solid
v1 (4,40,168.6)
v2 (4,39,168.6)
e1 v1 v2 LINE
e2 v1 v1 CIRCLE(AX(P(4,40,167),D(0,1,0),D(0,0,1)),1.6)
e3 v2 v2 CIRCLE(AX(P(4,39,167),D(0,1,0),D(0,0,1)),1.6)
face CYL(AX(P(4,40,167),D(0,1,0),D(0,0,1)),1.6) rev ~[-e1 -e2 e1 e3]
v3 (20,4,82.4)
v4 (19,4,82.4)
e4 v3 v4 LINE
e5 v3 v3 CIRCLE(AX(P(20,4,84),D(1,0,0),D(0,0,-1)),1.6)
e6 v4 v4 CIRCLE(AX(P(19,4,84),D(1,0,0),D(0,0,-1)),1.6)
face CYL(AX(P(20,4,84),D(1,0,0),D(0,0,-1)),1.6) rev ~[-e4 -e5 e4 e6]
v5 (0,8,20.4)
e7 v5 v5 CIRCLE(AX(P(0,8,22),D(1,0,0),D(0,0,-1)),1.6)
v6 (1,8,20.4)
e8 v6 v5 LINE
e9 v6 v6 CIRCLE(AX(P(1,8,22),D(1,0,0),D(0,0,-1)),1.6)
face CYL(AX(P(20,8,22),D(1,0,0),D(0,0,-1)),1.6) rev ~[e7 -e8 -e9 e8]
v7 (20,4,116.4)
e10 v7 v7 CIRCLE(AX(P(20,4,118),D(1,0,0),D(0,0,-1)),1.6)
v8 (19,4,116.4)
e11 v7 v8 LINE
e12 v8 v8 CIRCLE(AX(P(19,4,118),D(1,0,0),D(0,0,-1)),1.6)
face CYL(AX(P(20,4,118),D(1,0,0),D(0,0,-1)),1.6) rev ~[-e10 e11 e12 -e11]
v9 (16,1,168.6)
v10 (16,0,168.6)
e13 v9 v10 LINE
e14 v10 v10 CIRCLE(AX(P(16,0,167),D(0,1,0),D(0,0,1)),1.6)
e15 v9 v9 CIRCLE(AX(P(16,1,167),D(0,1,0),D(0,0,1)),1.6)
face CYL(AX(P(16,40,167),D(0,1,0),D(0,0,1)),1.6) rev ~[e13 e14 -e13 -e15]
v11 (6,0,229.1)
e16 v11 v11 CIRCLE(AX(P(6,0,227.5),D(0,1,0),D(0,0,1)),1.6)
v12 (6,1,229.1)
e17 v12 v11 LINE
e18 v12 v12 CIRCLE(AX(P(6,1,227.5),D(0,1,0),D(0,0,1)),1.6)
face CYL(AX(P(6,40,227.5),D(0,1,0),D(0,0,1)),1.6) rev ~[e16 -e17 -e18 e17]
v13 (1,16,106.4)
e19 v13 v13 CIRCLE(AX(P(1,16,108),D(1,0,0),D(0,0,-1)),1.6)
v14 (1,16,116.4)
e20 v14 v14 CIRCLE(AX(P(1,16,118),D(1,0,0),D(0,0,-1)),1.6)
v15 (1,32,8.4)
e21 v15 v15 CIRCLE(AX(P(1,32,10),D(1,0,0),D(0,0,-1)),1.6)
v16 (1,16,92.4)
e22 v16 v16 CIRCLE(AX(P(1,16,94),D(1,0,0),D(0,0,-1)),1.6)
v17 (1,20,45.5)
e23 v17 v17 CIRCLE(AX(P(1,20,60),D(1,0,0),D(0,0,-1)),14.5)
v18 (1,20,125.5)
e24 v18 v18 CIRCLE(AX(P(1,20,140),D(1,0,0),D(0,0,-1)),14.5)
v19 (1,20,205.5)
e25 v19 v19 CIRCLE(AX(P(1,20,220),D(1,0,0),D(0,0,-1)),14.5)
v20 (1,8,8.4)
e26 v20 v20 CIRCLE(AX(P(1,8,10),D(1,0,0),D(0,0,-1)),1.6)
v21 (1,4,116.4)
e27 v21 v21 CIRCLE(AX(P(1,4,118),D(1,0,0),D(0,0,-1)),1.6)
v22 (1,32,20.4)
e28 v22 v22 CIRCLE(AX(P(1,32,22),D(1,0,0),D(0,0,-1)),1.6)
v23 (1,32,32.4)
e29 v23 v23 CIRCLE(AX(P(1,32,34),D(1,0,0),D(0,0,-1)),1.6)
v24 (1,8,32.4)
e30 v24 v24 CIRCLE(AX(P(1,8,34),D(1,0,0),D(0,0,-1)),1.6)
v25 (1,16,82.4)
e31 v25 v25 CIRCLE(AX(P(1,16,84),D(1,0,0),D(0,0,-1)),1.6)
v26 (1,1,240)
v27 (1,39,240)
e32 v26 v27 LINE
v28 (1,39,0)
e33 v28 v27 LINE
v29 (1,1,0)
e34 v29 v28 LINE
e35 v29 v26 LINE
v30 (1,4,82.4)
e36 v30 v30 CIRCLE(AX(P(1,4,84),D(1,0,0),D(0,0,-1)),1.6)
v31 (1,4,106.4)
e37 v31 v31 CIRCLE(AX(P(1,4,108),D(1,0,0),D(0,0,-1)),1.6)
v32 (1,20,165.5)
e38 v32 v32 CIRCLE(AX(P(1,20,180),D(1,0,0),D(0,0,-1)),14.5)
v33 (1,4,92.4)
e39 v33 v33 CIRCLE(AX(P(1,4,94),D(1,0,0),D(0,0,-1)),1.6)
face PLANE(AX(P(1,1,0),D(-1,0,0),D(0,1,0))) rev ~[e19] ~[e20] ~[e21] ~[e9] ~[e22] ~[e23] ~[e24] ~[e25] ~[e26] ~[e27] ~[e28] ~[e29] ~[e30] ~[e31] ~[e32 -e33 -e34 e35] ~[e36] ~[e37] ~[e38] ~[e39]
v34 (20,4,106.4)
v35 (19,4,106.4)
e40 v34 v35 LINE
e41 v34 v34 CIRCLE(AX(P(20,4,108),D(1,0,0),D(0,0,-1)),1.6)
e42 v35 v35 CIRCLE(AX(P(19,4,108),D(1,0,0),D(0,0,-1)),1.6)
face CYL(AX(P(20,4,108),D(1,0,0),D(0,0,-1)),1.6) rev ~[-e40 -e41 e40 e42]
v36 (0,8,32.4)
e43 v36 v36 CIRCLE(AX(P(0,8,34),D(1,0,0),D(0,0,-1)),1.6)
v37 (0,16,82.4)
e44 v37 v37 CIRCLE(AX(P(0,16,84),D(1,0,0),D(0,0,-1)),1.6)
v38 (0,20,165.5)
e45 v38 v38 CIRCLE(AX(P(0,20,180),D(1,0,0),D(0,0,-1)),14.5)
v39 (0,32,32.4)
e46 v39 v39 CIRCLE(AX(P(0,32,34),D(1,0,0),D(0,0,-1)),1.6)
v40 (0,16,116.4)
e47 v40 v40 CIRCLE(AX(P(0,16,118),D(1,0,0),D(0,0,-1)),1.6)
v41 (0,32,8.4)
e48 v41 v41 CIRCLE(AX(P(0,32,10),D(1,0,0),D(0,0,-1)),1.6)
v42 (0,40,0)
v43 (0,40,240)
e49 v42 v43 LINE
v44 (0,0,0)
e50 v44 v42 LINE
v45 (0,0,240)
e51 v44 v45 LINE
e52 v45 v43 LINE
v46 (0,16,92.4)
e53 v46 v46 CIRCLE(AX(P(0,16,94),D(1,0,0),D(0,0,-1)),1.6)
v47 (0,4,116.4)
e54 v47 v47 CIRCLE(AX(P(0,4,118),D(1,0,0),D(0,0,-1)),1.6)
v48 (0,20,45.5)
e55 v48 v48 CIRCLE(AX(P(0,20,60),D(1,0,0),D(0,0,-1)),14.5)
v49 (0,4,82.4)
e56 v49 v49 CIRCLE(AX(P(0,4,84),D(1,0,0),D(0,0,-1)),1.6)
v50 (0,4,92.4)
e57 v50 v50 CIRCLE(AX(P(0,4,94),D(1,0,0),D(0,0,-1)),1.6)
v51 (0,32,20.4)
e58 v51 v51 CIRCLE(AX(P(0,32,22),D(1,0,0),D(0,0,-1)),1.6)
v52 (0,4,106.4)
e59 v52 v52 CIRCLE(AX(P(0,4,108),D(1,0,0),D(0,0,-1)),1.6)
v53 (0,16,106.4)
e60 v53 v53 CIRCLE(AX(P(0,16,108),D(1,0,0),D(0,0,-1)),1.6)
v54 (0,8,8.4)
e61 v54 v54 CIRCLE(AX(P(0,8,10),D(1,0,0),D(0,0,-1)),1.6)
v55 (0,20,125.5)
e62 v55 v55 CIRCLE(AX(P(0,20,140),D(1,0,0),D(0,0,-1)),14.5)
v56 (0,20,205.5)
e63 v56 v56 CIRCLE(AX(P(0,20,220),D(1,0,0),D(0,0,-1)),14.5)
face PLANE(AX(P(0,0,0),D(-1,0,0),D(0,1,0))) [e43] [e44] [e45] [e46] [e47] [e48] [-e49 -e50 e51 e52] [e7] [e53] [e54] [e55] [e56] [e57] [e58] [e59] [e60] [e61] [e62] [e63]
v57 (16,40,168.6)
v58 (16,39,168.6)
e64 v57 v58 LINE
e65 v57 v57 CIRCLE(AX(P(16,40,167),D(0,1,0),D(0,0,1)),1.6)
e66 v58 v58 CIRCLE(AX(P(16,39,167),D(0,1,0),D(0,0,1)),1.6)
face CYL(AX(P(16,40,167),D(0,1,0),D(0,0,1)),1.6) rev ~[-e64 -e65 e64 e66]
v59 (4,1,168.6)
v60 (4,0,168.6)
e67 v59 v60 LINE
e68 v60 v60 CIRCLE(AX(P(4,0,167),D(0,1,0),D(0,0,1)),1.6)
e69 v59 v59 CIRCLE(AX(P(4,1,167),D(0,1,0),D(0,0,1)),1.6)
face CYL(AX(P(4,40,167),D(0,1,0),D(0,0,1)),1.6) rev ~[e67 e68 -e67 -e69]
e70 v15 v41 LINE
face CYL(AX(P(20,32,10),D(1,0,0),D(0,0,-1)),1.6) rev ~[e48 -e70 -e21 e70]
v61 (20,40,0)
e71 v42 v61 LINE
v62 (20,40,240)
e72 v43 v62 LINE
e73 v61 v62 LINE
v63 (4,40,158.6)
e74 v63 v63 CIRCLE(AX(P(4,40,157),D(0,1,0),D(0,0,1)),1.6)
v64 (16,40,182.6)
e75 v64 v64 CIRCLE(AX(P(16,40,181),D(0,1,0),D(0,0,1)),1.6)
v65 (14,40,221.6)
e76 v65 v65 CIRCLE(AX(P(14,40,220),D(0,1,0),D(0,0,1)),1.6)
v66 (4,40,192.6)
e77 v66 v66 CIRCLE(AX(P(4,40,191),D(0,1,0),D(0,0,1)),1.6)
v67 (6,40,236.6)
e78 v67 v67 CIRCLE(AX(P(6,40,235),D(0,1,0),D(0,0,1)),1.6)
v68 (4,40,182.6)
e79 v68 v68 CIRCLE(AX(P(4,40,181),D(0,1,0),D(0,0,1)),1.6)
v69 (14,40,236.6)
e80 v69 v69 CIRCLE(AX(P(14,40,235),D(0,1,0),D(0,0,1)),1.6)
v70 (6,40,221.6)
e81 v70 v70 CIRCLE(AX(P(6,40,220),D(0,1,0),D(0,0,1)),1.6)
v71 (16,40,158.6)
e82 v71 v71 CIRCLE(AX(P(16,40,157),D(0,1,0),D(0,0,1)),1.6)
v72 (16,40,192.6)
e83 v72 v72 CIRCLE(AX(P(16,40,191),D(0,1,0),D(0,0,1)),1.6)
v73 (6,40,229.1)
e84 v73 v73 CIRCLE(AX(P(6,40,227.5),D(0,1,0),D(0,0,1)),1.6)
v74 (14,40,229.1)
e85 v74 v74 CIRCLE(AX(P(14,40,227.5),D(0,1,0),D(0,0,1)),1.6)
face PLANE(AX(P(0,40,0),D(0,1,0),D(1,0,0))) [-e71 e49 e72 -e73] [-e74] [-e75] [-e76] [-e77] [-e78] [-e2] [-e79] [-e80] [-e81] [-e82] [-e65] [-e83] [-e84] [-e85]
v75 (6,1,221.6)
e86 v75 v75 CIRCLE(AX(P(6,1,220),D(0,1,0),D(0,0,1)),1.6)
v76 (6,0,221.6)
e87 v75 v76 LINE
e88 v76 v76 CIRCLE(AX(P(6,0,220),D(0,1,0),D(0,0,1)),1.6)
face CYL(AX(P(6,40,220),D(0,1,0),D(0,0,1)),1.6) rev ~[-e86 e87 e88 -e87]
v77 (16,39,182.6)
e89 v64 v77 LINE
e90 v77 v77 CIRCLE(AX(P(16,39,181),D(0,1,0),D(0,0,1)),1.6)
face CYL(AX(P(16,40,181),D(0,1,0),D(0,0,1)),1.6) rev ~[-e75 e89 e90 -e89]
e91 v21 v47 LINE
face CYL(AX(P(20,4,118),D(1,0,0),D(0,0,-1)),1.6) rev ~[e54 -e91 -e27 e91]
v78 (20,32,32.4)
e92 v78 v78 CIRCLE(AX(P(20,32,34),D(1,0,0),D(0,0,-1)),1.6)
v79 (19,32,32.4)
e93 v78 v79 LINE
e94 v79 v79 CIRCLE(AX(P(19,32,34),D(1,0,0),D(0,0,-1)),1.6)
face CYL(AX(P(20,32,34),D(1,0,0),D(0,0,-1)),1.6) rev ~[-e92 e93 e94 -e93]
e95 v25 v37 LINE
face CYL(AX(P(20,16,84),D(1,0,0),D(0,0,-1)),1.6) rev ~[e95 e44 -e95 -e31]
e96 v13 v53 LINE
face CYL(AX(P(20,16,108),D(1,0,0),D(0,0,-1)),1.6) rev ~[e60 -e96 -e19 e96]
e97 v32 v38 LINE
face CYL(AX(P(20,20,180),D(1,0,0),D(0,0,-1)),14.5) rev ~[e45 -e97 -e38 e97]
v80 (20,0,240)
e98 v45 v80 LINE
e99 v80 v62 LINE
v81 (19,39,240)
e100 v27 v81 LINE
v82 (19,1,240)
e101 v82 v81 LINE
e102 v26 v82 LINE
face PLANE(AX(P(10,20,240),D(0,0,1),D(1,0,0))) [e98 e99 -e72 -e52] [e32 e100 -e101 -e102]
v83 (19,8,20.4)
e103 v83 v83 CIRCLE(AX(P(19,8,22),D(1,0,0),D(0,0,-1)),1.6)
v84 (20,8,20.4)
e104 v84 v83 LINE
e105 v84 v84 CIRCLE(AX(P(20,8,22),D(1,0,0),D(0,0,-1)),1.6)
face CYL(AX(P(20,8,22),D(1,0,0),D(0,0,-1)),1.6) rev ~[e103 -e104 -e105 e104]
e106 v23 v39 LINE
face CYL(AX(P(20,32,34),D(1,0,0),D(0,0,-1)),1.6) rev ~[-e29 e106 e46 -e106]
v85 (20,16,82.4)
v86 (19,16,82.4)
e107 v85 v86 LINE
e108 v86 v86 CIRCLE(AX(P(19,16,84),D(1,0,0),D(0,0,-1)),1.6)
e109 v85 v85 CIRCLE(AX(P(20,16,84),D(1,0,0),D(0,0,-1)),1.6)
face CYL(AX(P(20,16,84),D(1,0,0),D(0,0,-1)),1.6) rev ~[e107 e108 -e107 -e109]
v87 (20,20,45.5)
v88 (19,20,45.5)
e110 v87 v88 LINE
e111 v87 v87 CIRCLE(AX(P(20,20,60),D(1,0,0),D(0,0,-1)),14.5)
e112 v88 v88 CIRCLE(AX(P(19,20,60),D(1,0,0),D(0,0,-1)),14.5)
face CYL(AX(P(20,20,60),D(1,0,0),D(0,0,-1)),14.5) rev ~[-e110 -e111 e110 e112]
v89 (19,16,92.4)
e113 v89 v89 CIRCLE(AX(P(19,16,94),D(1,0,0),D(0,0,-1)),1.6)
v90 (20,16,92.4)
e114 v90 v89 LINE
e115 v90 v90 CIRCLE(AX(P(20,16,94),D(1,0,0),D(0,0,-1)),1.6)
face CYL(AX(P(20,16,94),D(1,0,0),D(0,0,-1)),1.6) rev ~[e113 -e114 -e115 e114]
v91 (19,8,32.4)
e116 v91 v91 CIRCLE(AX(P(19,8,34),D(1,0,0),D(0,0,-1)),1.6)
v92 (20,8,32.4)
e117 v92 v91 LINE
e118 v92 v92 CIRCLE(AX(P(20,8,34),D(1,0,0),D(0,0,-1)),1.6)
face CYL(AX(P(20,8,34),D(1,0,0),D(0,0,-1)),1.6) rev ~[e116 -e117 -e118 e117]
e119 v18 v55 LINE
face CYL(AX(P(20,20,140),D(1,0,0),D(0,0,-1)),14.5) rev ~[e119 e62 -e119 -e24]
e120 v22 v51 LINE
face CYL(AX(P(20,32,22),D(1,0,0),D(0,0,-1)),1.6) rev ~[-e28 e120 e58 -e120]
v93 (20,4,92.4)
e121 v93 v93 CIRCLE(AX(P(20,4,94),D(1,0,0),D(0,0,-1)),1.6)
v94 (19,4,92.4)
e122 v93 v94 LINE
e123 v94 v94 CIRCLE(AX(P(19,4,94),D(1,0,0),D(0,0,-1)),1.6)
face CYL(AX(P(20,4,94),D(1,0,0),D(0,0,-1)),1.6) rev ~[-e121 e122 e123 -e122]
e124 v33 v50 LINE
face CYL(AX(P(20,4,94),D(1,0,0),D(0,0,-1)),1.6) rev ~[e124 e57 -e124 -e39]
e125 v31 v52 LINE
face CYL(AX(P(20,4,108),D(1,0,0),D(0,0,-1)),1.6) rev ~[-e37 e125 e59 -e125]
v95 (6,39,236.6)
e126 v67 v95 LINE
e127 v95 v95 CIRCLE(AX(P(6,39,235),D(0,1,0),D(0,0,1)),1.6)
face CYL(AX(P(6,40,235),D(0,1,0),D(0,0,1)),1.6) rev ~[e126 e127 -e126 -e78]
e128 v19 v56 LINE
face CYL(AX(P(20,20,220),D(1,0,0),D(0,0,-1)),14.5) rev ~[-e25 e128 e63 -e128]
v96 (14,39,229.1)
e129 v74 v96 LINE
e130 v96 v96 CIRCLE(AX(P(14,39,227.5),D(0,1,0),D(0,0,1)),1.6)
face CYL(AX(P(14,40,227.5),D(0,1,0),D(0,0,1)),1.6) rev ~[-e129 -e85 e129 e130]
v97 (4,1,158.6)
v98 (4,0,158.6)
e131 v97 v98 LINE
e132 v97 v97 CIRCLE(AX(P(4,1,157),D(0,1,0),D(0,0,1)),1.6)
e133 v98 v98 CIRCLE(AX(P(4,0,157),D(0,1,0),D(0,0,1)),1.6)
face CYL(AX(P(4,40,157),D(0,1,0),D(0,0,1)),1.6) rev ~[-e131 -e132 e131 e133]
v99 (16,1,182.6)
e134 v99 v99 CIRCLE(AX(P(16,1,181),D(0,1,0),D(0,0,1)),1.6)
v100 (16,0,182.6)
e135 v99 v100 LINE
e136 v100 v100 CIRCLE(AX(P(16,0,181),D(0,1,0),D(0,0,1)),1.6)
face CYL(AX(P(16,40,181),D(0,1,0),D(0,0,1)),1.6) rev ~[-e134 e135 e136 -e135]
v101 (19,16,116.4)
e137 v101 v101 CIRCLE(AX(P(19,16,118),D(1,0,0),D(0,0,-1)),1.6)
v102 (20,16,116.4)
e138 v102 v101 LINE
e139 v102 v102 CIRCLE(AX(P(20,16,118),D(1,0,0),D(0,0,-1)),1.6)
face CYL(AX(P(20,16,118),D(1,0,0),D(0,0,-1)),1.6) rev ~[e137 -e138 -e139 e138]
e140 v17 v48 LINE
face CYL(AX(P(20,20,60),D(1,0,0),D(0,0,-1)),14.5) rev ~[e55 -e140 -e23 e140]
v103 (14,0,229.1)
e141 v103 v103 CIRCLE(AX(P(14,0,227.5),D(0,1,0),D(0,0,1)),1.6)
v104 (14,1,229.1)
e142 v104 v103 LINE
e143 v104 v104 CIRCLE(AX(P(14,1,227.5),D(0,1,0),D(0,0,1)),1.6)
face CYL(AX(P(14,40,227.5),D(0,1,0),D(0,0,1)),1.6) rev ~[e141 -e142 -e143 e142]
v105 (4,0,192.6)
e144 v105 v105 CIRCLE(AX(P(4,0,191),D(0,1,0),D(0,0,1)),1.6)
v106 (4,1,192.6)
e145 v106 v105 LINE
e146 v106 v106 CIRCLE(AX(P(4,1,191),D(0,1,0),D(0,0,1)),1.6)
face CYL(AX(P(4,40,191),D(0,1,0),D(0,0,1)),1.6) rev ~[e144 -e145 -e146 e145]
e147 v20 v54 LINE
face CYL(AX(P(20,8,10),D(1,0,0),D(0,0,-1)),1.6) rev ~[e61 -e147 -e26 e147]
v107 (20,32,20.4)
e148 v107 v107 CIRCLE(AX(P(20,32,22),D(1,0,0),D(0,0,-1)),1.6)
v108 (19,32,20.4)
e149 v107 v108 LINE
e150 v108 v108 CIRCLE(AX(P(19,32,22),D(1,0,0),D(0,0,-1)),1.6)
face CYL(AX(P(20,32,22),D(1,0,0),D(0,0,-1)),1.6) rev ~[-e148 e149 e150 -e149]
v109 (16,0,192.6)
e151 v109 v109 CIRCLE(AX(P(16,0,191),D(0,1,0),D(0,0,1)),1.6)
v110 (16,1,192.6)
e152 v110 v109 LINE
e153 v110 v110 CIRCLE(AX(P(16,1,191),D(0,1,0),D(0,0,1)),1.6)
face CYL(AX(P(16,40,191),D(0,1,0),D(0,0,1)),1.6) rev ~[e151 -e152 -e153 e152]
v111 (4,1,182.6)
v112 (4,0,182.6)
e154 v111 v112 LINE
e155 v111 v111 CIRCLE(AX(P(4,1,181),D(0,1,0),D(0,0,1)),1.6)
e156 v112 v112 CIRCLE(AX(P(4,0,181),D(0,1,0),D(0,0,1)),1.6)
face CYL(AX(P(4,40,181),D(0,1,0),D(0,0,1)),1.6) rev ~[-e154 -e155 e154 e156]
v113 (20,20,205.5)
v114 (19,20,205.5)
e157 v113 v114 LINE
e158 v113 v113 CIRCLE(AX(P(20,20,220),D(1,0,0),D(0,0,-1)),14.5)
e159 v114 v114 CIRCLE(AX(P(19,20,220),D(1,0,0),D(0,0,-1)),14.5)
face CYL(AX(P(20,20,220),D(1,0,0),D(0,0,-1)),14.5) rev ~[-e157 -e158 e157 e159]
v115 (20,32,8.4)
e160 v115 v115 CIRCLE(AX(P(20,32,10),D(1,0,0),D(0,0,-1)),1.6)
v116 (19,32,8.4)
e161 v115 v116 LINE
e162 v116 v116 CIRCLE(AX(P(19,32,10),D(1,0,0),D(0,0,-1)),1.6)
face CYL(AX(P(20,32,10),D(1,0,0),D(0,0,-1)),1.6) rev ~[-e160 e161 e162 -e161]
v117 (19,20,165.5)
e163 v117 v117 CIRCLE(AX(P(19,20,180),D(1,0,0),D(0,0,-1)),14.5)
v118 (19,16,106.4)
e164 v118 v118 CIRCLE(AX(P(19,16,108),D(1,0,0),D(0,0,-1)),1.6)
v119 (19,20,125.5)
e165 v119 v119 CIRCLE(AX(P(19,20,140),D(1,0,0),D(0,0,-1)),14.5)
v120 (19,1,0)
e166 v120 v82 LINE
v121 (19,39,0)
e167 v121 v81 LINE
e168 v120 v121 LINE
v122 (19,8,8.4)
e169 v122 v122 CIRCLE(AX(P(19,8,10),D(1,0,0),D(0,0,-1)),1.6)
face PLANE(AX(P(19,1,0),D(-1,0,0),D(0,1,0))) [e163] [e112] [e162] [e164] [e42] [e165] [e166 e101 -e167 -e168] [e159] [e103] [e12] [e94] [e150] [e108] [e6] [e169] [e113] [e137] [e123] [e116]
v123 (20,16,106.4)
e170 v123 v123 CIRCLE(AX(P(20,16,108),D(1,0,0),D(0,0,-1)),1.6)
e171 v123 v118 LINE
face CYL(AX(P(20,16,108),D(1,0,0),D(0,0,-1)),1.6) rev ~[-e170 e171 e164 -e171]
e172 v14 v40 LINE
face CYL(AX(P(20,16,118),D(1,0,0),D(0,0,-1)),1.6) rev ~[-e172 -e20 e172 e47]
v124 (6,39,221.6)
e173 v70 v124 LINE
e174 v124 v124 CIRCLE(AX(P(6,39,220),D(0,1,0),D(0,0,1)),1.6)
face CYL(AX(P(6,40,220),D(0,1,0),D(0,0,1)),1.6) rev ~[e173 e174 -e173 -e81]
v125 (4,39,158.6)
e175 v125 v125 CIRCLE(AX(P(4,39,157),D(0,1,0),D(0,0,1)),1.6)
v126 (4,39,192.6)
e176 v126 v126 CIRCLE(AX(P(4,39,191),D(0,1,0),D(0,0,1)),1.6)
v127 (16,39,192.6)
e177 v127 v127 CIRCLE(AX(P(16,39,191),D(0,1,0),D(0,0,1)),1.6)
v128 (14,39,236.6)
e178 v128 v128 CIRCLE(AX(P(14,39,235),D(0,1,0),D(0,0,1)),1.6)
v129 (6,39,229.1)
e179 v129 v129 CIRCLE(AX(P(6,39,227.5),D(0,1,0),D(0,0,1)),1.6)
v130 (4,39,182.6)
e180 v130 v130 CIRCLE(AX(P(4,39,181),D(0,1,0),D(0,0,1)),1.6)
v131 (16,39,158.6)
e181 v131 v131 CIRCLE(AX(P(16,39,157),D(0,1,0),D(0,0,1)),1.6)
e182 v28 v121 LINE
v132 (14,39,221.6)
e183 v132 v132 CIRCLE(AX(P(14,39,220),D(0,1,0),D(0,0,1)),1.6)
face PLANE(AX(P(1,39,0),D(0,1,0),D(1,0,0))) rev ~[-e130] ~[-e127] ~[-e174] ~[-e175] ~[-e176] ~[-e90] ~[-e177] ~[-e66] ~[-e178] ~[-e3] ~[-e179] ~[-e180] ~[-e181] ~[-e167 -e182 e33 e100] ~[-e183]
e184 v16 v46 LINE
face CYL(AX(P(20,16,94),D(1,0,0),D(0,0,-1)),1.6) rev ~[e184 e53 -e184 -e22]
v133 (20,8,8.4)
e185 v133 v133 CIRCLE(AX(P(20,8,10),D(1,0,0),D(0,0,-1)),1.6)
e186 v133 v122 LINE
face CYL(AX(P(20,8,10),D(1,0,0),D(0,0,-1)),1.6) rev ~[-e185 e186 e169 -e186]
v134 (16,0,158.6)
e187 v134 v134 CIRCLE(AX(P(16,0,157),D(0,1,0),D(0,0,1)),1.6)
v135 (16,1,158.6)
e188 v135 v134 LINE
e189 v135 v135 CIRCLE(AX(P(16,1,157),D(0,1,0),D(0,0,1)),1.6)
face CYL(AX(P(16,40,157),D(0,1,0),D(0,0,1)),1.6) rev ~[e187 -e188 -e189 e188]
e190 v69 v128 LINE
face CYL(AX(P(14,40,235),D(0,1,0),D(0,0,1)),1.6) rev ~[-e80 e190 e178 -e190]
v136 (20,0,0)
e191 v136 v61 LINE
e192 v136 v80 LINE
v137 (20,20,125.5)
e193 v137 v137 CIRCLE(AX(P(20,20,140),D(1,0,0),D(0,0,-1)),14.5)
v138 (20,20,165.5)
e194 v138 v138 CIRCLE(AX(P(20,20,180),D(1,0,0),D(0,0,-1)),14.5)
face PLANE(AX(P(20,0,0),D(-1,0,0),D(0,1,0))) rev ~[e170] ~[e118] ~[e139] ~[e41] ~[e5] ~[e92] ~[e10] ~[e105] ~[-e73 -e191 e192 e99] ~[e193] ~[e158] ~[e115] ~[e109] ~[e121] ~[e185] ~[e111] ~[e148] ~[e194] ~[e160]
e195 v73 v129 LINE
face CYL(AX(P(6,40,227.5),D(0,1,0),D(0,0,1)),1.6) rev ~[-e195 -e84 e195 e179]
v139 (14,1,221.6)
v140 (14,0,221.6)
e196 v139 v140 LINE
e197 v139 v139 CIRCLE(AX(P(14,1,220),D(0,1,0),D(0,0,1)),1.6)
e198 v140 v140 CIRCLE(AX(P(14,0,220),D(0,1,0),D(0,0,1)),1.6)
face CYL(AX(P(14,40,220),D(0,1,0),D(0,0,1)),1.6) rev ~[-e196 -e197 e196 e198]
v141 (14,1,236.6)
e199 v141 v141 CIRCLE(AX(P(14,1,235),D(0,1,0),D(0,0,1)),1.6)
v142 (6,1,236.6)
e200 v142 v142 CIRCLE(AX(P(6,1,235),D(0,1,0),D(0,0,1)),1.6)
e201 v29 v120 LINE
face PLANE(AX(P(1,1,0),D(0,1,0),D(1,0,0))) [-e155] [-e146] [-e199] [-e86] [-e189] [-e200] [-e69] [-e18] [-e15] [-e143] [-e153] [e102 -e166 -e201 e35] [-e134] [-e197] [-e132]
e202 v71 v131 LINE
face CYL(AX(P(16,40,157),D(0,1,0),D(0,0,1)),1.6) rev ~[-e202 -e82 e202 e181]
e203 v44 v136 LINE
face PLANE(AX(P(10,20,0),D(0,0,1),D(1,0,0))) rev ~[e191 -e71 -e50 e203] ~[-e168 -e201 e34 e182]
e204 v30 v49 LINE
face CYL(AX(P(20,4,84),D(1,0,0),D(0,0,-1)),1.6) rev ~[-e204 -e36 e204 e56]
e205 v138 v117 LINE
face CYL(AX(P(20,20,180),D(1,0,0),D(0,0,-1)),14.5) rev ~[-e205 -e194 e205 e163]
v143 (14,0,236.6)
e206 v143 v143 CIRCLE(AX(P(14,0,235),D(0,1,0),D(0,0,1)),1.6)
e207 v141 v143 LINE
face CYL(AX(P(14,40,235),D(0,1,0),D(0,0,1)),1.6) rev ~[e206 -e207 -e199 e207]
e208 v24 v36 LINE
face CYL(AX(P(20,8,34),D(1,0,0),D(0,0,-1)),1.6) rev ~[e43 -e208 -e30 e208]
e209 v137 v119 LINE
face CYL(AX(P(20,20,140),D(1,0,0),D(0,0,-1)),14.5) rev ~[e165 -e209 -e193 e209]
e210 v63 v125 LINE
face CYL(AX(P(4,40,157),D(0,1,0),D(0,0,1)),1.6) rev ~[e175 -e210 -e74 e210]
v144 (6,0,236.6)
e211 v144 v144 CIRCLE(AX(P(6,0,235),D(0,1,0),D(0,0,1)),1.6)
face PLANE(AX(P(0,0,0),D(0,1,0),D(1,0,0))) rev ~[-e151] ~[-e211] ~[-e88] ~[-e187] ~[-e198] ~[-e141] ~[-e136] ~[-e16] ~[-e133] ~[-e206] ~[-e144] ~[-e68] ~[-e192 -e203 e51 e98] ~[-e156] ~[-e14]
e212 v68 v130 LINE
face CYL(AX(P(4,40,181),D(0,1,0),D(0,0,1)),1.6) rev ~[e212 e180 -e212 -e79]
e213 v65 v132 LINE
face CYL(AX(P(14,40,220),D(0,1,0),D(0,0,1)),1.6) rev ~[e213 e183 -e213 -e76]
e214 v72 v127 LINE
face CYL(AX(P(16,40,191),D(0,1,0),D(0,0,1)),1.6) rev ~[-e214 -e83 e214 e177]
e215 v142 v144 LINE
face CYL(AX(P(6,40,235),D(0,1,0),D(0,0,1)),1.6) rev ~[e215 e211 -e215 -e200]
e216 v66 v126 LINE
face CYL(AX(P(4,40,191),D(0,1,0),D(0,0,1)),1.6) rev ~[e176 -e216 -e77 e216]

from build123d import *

# Parameters (mm, degrees)
SKETCH_1_W          = 20
SKETCH_1_H          = 40
SKETCH_1_W_2        = 18
SKETCH_1_H_2        = 38
EXTRUDE_1_DEPTH     = 240
SKETCH_2_R          = 1.6
CUT_EXTRUDE_1_DEPTH = 245.131112315
SKETCH_3_R          = 1.6
SKETCH_3_R_2        = 1.599999999
CUT_EXTRUDE_2_DEPTH = 245.131112315
SKETCH_4_R          = 14.5
CUT_EXTRUDE_3_DEPTH = 245.131112315


with BuildPart() as part:
    # 草图1 → 凸台-拉伸1 (new body)
    with BuildSketch(Plane.XY):
        with Locations((10, 20)):
            Rectangle(SKETCH_1_W, SKETCH_1_H)
        with Locations((10, 20)):
            Rectangle(SKETCH_1_W_2, SKETCH_1_H_2, mode=Mode.SUBTRACT)
    extrude(amount=EXTRUDE_1_DEPTH)

    # 草图2 → 切除-拉伸1 (cut, through all)
    with BuildSketch(Plane(origin=(20, 0, 0), x_dir=(0, 0, -1), z_dir=(1, 0, 0))):
        with Locations((-10, 8)):
            Circle(SKETCH_2_R)
        with Locations((-34, 8)):
            Circle(SKETCH_2_R)
        with Locations((-84, 4.000000001)):
            Circle(SKETCH_2_R)
        with Locations((-94, 4.000000001)):
            Circle(SKETCH_2_R)
        with Locations((-108, 16.000000001)):
            Circle(SKETCH_2_R)
        with Locations((-118, 16.000000001)):
            Circle(SKETCH_2_R)
        with Locations((-108, 4.000000001)):
            Circle(SKETCH_2_R)
        with Locations((-118, 4.000000001)):
            Circle(SKETCH_2_R)
        with Locations((-84, 16.000000001)):
            Circle(SKETCH_2_R)
        with Locations((-94, 16.000000001)):
            Circle(SKETCH_2_R)
        with Locations((-10, 32)):
            Circle(SKETCH_2_R)
        with Locations((-34, 32)):
            Circle(SKETCH_2_R)
        with Locations((-22, 32)):
            Circle(SKETCH_2_R)
        with Locations((-22, 8)):
            Circle(SKETCH_2_R)
    extrude(amount=-CUT_EXTRUDE_1_DEPTH, mode=Mode.SUBTRACT)

    # 草图3 → 切除-拉伸2 (cut, through all)
    with BuildSketch(Plane(origin=(0, 40, 0), x_dir=(1, 0, 0), z_dir=(0, 1, 0))):
        with Locations(Location((6, -227.5, 0), (0, 0, 270))):
            Circle(SKETCH_3_R)
        with Locations(Location((14, -227.5, 0), (0, 0, 270))):
            Circle(SKETCH_3_R)
        with Locations(Location((16.000000001, -191.000000001, 0), (0, 0, 270))):
            Circle(SKETCH_3_R_2)
        with Locations(Location((16.000000001, -181.000000001, 0), (0, 0, 270))):
            Circle(SKETCH_3_R_2)
        with Locations(Location((4.000000001, -167.000000001, 0), (0, 0, 270))):
            Circle(SKETCH_3_R_2)
        with Locations(Location((4.000000001, -157.000000001, 0), (0, 0, 270))):
            Circle(SKETCH_3_R_2)
        with Locations(Location((16.000000001, -167.000000001, 0), (0, 0, 270))):
            Circle(SKETCH_3_R_2)
        with Locations(Location((16.000000001, -157.000000001, 0), (0, 0, 270))):
            Circle(SKETCH_3_R_2)
        with Locations(Location((4.000000001, -191.000000001, 0), (0, 0, 270))):
            Circle(SKETCH_3_R_2)
        with Locations(Location((4.000000001, -181.000000001, 0), (0, 0, 270))):
            Circle(SKETCH_3_R_2)
        with Locations(Location((6, -220, 0), (0, 0, 270))):
            Circle(SKETCH_3_R)
        with Locations(Location((14, -220, 0), (0, 0, 270))):
            Circle(SKETCH_3_R)
        with Locations(Location((6, -235, 0), (0, 0, 270))):
            Circle(SKETCH_3_R)
        with Locations(Location((14, -235, 0), (0, 0, 270))):
            Circle(SKETCH_3_R)
    extrude(amount=-CUT_EXTRUDE_2_DEPTH, mode=Mode.SUBTRACT)

    # 草图4 → 切除-拉伸3 (cut, through all)
    with BuildSketch(Plane(origin=(20, 0, 0), x_dir=(0, 0, -1), z_dir=(1, 0, 0))):
        with Locations((-220, 20)):
            Circle(SKETCH_4_R)
        with Locations((-180, 20)):
            Circle(SKETCH_4_R)
        with Locations((-140, 20)):
            Circle(SKETCH_4_R)
        with Locations((-60, 20)):
            Circle(SKETCH_4_R)
    extrude(amount=-CUT_EXTRUDE_3_DEPTH, mode=Mode.SUBTRACT)


solid = part.part
